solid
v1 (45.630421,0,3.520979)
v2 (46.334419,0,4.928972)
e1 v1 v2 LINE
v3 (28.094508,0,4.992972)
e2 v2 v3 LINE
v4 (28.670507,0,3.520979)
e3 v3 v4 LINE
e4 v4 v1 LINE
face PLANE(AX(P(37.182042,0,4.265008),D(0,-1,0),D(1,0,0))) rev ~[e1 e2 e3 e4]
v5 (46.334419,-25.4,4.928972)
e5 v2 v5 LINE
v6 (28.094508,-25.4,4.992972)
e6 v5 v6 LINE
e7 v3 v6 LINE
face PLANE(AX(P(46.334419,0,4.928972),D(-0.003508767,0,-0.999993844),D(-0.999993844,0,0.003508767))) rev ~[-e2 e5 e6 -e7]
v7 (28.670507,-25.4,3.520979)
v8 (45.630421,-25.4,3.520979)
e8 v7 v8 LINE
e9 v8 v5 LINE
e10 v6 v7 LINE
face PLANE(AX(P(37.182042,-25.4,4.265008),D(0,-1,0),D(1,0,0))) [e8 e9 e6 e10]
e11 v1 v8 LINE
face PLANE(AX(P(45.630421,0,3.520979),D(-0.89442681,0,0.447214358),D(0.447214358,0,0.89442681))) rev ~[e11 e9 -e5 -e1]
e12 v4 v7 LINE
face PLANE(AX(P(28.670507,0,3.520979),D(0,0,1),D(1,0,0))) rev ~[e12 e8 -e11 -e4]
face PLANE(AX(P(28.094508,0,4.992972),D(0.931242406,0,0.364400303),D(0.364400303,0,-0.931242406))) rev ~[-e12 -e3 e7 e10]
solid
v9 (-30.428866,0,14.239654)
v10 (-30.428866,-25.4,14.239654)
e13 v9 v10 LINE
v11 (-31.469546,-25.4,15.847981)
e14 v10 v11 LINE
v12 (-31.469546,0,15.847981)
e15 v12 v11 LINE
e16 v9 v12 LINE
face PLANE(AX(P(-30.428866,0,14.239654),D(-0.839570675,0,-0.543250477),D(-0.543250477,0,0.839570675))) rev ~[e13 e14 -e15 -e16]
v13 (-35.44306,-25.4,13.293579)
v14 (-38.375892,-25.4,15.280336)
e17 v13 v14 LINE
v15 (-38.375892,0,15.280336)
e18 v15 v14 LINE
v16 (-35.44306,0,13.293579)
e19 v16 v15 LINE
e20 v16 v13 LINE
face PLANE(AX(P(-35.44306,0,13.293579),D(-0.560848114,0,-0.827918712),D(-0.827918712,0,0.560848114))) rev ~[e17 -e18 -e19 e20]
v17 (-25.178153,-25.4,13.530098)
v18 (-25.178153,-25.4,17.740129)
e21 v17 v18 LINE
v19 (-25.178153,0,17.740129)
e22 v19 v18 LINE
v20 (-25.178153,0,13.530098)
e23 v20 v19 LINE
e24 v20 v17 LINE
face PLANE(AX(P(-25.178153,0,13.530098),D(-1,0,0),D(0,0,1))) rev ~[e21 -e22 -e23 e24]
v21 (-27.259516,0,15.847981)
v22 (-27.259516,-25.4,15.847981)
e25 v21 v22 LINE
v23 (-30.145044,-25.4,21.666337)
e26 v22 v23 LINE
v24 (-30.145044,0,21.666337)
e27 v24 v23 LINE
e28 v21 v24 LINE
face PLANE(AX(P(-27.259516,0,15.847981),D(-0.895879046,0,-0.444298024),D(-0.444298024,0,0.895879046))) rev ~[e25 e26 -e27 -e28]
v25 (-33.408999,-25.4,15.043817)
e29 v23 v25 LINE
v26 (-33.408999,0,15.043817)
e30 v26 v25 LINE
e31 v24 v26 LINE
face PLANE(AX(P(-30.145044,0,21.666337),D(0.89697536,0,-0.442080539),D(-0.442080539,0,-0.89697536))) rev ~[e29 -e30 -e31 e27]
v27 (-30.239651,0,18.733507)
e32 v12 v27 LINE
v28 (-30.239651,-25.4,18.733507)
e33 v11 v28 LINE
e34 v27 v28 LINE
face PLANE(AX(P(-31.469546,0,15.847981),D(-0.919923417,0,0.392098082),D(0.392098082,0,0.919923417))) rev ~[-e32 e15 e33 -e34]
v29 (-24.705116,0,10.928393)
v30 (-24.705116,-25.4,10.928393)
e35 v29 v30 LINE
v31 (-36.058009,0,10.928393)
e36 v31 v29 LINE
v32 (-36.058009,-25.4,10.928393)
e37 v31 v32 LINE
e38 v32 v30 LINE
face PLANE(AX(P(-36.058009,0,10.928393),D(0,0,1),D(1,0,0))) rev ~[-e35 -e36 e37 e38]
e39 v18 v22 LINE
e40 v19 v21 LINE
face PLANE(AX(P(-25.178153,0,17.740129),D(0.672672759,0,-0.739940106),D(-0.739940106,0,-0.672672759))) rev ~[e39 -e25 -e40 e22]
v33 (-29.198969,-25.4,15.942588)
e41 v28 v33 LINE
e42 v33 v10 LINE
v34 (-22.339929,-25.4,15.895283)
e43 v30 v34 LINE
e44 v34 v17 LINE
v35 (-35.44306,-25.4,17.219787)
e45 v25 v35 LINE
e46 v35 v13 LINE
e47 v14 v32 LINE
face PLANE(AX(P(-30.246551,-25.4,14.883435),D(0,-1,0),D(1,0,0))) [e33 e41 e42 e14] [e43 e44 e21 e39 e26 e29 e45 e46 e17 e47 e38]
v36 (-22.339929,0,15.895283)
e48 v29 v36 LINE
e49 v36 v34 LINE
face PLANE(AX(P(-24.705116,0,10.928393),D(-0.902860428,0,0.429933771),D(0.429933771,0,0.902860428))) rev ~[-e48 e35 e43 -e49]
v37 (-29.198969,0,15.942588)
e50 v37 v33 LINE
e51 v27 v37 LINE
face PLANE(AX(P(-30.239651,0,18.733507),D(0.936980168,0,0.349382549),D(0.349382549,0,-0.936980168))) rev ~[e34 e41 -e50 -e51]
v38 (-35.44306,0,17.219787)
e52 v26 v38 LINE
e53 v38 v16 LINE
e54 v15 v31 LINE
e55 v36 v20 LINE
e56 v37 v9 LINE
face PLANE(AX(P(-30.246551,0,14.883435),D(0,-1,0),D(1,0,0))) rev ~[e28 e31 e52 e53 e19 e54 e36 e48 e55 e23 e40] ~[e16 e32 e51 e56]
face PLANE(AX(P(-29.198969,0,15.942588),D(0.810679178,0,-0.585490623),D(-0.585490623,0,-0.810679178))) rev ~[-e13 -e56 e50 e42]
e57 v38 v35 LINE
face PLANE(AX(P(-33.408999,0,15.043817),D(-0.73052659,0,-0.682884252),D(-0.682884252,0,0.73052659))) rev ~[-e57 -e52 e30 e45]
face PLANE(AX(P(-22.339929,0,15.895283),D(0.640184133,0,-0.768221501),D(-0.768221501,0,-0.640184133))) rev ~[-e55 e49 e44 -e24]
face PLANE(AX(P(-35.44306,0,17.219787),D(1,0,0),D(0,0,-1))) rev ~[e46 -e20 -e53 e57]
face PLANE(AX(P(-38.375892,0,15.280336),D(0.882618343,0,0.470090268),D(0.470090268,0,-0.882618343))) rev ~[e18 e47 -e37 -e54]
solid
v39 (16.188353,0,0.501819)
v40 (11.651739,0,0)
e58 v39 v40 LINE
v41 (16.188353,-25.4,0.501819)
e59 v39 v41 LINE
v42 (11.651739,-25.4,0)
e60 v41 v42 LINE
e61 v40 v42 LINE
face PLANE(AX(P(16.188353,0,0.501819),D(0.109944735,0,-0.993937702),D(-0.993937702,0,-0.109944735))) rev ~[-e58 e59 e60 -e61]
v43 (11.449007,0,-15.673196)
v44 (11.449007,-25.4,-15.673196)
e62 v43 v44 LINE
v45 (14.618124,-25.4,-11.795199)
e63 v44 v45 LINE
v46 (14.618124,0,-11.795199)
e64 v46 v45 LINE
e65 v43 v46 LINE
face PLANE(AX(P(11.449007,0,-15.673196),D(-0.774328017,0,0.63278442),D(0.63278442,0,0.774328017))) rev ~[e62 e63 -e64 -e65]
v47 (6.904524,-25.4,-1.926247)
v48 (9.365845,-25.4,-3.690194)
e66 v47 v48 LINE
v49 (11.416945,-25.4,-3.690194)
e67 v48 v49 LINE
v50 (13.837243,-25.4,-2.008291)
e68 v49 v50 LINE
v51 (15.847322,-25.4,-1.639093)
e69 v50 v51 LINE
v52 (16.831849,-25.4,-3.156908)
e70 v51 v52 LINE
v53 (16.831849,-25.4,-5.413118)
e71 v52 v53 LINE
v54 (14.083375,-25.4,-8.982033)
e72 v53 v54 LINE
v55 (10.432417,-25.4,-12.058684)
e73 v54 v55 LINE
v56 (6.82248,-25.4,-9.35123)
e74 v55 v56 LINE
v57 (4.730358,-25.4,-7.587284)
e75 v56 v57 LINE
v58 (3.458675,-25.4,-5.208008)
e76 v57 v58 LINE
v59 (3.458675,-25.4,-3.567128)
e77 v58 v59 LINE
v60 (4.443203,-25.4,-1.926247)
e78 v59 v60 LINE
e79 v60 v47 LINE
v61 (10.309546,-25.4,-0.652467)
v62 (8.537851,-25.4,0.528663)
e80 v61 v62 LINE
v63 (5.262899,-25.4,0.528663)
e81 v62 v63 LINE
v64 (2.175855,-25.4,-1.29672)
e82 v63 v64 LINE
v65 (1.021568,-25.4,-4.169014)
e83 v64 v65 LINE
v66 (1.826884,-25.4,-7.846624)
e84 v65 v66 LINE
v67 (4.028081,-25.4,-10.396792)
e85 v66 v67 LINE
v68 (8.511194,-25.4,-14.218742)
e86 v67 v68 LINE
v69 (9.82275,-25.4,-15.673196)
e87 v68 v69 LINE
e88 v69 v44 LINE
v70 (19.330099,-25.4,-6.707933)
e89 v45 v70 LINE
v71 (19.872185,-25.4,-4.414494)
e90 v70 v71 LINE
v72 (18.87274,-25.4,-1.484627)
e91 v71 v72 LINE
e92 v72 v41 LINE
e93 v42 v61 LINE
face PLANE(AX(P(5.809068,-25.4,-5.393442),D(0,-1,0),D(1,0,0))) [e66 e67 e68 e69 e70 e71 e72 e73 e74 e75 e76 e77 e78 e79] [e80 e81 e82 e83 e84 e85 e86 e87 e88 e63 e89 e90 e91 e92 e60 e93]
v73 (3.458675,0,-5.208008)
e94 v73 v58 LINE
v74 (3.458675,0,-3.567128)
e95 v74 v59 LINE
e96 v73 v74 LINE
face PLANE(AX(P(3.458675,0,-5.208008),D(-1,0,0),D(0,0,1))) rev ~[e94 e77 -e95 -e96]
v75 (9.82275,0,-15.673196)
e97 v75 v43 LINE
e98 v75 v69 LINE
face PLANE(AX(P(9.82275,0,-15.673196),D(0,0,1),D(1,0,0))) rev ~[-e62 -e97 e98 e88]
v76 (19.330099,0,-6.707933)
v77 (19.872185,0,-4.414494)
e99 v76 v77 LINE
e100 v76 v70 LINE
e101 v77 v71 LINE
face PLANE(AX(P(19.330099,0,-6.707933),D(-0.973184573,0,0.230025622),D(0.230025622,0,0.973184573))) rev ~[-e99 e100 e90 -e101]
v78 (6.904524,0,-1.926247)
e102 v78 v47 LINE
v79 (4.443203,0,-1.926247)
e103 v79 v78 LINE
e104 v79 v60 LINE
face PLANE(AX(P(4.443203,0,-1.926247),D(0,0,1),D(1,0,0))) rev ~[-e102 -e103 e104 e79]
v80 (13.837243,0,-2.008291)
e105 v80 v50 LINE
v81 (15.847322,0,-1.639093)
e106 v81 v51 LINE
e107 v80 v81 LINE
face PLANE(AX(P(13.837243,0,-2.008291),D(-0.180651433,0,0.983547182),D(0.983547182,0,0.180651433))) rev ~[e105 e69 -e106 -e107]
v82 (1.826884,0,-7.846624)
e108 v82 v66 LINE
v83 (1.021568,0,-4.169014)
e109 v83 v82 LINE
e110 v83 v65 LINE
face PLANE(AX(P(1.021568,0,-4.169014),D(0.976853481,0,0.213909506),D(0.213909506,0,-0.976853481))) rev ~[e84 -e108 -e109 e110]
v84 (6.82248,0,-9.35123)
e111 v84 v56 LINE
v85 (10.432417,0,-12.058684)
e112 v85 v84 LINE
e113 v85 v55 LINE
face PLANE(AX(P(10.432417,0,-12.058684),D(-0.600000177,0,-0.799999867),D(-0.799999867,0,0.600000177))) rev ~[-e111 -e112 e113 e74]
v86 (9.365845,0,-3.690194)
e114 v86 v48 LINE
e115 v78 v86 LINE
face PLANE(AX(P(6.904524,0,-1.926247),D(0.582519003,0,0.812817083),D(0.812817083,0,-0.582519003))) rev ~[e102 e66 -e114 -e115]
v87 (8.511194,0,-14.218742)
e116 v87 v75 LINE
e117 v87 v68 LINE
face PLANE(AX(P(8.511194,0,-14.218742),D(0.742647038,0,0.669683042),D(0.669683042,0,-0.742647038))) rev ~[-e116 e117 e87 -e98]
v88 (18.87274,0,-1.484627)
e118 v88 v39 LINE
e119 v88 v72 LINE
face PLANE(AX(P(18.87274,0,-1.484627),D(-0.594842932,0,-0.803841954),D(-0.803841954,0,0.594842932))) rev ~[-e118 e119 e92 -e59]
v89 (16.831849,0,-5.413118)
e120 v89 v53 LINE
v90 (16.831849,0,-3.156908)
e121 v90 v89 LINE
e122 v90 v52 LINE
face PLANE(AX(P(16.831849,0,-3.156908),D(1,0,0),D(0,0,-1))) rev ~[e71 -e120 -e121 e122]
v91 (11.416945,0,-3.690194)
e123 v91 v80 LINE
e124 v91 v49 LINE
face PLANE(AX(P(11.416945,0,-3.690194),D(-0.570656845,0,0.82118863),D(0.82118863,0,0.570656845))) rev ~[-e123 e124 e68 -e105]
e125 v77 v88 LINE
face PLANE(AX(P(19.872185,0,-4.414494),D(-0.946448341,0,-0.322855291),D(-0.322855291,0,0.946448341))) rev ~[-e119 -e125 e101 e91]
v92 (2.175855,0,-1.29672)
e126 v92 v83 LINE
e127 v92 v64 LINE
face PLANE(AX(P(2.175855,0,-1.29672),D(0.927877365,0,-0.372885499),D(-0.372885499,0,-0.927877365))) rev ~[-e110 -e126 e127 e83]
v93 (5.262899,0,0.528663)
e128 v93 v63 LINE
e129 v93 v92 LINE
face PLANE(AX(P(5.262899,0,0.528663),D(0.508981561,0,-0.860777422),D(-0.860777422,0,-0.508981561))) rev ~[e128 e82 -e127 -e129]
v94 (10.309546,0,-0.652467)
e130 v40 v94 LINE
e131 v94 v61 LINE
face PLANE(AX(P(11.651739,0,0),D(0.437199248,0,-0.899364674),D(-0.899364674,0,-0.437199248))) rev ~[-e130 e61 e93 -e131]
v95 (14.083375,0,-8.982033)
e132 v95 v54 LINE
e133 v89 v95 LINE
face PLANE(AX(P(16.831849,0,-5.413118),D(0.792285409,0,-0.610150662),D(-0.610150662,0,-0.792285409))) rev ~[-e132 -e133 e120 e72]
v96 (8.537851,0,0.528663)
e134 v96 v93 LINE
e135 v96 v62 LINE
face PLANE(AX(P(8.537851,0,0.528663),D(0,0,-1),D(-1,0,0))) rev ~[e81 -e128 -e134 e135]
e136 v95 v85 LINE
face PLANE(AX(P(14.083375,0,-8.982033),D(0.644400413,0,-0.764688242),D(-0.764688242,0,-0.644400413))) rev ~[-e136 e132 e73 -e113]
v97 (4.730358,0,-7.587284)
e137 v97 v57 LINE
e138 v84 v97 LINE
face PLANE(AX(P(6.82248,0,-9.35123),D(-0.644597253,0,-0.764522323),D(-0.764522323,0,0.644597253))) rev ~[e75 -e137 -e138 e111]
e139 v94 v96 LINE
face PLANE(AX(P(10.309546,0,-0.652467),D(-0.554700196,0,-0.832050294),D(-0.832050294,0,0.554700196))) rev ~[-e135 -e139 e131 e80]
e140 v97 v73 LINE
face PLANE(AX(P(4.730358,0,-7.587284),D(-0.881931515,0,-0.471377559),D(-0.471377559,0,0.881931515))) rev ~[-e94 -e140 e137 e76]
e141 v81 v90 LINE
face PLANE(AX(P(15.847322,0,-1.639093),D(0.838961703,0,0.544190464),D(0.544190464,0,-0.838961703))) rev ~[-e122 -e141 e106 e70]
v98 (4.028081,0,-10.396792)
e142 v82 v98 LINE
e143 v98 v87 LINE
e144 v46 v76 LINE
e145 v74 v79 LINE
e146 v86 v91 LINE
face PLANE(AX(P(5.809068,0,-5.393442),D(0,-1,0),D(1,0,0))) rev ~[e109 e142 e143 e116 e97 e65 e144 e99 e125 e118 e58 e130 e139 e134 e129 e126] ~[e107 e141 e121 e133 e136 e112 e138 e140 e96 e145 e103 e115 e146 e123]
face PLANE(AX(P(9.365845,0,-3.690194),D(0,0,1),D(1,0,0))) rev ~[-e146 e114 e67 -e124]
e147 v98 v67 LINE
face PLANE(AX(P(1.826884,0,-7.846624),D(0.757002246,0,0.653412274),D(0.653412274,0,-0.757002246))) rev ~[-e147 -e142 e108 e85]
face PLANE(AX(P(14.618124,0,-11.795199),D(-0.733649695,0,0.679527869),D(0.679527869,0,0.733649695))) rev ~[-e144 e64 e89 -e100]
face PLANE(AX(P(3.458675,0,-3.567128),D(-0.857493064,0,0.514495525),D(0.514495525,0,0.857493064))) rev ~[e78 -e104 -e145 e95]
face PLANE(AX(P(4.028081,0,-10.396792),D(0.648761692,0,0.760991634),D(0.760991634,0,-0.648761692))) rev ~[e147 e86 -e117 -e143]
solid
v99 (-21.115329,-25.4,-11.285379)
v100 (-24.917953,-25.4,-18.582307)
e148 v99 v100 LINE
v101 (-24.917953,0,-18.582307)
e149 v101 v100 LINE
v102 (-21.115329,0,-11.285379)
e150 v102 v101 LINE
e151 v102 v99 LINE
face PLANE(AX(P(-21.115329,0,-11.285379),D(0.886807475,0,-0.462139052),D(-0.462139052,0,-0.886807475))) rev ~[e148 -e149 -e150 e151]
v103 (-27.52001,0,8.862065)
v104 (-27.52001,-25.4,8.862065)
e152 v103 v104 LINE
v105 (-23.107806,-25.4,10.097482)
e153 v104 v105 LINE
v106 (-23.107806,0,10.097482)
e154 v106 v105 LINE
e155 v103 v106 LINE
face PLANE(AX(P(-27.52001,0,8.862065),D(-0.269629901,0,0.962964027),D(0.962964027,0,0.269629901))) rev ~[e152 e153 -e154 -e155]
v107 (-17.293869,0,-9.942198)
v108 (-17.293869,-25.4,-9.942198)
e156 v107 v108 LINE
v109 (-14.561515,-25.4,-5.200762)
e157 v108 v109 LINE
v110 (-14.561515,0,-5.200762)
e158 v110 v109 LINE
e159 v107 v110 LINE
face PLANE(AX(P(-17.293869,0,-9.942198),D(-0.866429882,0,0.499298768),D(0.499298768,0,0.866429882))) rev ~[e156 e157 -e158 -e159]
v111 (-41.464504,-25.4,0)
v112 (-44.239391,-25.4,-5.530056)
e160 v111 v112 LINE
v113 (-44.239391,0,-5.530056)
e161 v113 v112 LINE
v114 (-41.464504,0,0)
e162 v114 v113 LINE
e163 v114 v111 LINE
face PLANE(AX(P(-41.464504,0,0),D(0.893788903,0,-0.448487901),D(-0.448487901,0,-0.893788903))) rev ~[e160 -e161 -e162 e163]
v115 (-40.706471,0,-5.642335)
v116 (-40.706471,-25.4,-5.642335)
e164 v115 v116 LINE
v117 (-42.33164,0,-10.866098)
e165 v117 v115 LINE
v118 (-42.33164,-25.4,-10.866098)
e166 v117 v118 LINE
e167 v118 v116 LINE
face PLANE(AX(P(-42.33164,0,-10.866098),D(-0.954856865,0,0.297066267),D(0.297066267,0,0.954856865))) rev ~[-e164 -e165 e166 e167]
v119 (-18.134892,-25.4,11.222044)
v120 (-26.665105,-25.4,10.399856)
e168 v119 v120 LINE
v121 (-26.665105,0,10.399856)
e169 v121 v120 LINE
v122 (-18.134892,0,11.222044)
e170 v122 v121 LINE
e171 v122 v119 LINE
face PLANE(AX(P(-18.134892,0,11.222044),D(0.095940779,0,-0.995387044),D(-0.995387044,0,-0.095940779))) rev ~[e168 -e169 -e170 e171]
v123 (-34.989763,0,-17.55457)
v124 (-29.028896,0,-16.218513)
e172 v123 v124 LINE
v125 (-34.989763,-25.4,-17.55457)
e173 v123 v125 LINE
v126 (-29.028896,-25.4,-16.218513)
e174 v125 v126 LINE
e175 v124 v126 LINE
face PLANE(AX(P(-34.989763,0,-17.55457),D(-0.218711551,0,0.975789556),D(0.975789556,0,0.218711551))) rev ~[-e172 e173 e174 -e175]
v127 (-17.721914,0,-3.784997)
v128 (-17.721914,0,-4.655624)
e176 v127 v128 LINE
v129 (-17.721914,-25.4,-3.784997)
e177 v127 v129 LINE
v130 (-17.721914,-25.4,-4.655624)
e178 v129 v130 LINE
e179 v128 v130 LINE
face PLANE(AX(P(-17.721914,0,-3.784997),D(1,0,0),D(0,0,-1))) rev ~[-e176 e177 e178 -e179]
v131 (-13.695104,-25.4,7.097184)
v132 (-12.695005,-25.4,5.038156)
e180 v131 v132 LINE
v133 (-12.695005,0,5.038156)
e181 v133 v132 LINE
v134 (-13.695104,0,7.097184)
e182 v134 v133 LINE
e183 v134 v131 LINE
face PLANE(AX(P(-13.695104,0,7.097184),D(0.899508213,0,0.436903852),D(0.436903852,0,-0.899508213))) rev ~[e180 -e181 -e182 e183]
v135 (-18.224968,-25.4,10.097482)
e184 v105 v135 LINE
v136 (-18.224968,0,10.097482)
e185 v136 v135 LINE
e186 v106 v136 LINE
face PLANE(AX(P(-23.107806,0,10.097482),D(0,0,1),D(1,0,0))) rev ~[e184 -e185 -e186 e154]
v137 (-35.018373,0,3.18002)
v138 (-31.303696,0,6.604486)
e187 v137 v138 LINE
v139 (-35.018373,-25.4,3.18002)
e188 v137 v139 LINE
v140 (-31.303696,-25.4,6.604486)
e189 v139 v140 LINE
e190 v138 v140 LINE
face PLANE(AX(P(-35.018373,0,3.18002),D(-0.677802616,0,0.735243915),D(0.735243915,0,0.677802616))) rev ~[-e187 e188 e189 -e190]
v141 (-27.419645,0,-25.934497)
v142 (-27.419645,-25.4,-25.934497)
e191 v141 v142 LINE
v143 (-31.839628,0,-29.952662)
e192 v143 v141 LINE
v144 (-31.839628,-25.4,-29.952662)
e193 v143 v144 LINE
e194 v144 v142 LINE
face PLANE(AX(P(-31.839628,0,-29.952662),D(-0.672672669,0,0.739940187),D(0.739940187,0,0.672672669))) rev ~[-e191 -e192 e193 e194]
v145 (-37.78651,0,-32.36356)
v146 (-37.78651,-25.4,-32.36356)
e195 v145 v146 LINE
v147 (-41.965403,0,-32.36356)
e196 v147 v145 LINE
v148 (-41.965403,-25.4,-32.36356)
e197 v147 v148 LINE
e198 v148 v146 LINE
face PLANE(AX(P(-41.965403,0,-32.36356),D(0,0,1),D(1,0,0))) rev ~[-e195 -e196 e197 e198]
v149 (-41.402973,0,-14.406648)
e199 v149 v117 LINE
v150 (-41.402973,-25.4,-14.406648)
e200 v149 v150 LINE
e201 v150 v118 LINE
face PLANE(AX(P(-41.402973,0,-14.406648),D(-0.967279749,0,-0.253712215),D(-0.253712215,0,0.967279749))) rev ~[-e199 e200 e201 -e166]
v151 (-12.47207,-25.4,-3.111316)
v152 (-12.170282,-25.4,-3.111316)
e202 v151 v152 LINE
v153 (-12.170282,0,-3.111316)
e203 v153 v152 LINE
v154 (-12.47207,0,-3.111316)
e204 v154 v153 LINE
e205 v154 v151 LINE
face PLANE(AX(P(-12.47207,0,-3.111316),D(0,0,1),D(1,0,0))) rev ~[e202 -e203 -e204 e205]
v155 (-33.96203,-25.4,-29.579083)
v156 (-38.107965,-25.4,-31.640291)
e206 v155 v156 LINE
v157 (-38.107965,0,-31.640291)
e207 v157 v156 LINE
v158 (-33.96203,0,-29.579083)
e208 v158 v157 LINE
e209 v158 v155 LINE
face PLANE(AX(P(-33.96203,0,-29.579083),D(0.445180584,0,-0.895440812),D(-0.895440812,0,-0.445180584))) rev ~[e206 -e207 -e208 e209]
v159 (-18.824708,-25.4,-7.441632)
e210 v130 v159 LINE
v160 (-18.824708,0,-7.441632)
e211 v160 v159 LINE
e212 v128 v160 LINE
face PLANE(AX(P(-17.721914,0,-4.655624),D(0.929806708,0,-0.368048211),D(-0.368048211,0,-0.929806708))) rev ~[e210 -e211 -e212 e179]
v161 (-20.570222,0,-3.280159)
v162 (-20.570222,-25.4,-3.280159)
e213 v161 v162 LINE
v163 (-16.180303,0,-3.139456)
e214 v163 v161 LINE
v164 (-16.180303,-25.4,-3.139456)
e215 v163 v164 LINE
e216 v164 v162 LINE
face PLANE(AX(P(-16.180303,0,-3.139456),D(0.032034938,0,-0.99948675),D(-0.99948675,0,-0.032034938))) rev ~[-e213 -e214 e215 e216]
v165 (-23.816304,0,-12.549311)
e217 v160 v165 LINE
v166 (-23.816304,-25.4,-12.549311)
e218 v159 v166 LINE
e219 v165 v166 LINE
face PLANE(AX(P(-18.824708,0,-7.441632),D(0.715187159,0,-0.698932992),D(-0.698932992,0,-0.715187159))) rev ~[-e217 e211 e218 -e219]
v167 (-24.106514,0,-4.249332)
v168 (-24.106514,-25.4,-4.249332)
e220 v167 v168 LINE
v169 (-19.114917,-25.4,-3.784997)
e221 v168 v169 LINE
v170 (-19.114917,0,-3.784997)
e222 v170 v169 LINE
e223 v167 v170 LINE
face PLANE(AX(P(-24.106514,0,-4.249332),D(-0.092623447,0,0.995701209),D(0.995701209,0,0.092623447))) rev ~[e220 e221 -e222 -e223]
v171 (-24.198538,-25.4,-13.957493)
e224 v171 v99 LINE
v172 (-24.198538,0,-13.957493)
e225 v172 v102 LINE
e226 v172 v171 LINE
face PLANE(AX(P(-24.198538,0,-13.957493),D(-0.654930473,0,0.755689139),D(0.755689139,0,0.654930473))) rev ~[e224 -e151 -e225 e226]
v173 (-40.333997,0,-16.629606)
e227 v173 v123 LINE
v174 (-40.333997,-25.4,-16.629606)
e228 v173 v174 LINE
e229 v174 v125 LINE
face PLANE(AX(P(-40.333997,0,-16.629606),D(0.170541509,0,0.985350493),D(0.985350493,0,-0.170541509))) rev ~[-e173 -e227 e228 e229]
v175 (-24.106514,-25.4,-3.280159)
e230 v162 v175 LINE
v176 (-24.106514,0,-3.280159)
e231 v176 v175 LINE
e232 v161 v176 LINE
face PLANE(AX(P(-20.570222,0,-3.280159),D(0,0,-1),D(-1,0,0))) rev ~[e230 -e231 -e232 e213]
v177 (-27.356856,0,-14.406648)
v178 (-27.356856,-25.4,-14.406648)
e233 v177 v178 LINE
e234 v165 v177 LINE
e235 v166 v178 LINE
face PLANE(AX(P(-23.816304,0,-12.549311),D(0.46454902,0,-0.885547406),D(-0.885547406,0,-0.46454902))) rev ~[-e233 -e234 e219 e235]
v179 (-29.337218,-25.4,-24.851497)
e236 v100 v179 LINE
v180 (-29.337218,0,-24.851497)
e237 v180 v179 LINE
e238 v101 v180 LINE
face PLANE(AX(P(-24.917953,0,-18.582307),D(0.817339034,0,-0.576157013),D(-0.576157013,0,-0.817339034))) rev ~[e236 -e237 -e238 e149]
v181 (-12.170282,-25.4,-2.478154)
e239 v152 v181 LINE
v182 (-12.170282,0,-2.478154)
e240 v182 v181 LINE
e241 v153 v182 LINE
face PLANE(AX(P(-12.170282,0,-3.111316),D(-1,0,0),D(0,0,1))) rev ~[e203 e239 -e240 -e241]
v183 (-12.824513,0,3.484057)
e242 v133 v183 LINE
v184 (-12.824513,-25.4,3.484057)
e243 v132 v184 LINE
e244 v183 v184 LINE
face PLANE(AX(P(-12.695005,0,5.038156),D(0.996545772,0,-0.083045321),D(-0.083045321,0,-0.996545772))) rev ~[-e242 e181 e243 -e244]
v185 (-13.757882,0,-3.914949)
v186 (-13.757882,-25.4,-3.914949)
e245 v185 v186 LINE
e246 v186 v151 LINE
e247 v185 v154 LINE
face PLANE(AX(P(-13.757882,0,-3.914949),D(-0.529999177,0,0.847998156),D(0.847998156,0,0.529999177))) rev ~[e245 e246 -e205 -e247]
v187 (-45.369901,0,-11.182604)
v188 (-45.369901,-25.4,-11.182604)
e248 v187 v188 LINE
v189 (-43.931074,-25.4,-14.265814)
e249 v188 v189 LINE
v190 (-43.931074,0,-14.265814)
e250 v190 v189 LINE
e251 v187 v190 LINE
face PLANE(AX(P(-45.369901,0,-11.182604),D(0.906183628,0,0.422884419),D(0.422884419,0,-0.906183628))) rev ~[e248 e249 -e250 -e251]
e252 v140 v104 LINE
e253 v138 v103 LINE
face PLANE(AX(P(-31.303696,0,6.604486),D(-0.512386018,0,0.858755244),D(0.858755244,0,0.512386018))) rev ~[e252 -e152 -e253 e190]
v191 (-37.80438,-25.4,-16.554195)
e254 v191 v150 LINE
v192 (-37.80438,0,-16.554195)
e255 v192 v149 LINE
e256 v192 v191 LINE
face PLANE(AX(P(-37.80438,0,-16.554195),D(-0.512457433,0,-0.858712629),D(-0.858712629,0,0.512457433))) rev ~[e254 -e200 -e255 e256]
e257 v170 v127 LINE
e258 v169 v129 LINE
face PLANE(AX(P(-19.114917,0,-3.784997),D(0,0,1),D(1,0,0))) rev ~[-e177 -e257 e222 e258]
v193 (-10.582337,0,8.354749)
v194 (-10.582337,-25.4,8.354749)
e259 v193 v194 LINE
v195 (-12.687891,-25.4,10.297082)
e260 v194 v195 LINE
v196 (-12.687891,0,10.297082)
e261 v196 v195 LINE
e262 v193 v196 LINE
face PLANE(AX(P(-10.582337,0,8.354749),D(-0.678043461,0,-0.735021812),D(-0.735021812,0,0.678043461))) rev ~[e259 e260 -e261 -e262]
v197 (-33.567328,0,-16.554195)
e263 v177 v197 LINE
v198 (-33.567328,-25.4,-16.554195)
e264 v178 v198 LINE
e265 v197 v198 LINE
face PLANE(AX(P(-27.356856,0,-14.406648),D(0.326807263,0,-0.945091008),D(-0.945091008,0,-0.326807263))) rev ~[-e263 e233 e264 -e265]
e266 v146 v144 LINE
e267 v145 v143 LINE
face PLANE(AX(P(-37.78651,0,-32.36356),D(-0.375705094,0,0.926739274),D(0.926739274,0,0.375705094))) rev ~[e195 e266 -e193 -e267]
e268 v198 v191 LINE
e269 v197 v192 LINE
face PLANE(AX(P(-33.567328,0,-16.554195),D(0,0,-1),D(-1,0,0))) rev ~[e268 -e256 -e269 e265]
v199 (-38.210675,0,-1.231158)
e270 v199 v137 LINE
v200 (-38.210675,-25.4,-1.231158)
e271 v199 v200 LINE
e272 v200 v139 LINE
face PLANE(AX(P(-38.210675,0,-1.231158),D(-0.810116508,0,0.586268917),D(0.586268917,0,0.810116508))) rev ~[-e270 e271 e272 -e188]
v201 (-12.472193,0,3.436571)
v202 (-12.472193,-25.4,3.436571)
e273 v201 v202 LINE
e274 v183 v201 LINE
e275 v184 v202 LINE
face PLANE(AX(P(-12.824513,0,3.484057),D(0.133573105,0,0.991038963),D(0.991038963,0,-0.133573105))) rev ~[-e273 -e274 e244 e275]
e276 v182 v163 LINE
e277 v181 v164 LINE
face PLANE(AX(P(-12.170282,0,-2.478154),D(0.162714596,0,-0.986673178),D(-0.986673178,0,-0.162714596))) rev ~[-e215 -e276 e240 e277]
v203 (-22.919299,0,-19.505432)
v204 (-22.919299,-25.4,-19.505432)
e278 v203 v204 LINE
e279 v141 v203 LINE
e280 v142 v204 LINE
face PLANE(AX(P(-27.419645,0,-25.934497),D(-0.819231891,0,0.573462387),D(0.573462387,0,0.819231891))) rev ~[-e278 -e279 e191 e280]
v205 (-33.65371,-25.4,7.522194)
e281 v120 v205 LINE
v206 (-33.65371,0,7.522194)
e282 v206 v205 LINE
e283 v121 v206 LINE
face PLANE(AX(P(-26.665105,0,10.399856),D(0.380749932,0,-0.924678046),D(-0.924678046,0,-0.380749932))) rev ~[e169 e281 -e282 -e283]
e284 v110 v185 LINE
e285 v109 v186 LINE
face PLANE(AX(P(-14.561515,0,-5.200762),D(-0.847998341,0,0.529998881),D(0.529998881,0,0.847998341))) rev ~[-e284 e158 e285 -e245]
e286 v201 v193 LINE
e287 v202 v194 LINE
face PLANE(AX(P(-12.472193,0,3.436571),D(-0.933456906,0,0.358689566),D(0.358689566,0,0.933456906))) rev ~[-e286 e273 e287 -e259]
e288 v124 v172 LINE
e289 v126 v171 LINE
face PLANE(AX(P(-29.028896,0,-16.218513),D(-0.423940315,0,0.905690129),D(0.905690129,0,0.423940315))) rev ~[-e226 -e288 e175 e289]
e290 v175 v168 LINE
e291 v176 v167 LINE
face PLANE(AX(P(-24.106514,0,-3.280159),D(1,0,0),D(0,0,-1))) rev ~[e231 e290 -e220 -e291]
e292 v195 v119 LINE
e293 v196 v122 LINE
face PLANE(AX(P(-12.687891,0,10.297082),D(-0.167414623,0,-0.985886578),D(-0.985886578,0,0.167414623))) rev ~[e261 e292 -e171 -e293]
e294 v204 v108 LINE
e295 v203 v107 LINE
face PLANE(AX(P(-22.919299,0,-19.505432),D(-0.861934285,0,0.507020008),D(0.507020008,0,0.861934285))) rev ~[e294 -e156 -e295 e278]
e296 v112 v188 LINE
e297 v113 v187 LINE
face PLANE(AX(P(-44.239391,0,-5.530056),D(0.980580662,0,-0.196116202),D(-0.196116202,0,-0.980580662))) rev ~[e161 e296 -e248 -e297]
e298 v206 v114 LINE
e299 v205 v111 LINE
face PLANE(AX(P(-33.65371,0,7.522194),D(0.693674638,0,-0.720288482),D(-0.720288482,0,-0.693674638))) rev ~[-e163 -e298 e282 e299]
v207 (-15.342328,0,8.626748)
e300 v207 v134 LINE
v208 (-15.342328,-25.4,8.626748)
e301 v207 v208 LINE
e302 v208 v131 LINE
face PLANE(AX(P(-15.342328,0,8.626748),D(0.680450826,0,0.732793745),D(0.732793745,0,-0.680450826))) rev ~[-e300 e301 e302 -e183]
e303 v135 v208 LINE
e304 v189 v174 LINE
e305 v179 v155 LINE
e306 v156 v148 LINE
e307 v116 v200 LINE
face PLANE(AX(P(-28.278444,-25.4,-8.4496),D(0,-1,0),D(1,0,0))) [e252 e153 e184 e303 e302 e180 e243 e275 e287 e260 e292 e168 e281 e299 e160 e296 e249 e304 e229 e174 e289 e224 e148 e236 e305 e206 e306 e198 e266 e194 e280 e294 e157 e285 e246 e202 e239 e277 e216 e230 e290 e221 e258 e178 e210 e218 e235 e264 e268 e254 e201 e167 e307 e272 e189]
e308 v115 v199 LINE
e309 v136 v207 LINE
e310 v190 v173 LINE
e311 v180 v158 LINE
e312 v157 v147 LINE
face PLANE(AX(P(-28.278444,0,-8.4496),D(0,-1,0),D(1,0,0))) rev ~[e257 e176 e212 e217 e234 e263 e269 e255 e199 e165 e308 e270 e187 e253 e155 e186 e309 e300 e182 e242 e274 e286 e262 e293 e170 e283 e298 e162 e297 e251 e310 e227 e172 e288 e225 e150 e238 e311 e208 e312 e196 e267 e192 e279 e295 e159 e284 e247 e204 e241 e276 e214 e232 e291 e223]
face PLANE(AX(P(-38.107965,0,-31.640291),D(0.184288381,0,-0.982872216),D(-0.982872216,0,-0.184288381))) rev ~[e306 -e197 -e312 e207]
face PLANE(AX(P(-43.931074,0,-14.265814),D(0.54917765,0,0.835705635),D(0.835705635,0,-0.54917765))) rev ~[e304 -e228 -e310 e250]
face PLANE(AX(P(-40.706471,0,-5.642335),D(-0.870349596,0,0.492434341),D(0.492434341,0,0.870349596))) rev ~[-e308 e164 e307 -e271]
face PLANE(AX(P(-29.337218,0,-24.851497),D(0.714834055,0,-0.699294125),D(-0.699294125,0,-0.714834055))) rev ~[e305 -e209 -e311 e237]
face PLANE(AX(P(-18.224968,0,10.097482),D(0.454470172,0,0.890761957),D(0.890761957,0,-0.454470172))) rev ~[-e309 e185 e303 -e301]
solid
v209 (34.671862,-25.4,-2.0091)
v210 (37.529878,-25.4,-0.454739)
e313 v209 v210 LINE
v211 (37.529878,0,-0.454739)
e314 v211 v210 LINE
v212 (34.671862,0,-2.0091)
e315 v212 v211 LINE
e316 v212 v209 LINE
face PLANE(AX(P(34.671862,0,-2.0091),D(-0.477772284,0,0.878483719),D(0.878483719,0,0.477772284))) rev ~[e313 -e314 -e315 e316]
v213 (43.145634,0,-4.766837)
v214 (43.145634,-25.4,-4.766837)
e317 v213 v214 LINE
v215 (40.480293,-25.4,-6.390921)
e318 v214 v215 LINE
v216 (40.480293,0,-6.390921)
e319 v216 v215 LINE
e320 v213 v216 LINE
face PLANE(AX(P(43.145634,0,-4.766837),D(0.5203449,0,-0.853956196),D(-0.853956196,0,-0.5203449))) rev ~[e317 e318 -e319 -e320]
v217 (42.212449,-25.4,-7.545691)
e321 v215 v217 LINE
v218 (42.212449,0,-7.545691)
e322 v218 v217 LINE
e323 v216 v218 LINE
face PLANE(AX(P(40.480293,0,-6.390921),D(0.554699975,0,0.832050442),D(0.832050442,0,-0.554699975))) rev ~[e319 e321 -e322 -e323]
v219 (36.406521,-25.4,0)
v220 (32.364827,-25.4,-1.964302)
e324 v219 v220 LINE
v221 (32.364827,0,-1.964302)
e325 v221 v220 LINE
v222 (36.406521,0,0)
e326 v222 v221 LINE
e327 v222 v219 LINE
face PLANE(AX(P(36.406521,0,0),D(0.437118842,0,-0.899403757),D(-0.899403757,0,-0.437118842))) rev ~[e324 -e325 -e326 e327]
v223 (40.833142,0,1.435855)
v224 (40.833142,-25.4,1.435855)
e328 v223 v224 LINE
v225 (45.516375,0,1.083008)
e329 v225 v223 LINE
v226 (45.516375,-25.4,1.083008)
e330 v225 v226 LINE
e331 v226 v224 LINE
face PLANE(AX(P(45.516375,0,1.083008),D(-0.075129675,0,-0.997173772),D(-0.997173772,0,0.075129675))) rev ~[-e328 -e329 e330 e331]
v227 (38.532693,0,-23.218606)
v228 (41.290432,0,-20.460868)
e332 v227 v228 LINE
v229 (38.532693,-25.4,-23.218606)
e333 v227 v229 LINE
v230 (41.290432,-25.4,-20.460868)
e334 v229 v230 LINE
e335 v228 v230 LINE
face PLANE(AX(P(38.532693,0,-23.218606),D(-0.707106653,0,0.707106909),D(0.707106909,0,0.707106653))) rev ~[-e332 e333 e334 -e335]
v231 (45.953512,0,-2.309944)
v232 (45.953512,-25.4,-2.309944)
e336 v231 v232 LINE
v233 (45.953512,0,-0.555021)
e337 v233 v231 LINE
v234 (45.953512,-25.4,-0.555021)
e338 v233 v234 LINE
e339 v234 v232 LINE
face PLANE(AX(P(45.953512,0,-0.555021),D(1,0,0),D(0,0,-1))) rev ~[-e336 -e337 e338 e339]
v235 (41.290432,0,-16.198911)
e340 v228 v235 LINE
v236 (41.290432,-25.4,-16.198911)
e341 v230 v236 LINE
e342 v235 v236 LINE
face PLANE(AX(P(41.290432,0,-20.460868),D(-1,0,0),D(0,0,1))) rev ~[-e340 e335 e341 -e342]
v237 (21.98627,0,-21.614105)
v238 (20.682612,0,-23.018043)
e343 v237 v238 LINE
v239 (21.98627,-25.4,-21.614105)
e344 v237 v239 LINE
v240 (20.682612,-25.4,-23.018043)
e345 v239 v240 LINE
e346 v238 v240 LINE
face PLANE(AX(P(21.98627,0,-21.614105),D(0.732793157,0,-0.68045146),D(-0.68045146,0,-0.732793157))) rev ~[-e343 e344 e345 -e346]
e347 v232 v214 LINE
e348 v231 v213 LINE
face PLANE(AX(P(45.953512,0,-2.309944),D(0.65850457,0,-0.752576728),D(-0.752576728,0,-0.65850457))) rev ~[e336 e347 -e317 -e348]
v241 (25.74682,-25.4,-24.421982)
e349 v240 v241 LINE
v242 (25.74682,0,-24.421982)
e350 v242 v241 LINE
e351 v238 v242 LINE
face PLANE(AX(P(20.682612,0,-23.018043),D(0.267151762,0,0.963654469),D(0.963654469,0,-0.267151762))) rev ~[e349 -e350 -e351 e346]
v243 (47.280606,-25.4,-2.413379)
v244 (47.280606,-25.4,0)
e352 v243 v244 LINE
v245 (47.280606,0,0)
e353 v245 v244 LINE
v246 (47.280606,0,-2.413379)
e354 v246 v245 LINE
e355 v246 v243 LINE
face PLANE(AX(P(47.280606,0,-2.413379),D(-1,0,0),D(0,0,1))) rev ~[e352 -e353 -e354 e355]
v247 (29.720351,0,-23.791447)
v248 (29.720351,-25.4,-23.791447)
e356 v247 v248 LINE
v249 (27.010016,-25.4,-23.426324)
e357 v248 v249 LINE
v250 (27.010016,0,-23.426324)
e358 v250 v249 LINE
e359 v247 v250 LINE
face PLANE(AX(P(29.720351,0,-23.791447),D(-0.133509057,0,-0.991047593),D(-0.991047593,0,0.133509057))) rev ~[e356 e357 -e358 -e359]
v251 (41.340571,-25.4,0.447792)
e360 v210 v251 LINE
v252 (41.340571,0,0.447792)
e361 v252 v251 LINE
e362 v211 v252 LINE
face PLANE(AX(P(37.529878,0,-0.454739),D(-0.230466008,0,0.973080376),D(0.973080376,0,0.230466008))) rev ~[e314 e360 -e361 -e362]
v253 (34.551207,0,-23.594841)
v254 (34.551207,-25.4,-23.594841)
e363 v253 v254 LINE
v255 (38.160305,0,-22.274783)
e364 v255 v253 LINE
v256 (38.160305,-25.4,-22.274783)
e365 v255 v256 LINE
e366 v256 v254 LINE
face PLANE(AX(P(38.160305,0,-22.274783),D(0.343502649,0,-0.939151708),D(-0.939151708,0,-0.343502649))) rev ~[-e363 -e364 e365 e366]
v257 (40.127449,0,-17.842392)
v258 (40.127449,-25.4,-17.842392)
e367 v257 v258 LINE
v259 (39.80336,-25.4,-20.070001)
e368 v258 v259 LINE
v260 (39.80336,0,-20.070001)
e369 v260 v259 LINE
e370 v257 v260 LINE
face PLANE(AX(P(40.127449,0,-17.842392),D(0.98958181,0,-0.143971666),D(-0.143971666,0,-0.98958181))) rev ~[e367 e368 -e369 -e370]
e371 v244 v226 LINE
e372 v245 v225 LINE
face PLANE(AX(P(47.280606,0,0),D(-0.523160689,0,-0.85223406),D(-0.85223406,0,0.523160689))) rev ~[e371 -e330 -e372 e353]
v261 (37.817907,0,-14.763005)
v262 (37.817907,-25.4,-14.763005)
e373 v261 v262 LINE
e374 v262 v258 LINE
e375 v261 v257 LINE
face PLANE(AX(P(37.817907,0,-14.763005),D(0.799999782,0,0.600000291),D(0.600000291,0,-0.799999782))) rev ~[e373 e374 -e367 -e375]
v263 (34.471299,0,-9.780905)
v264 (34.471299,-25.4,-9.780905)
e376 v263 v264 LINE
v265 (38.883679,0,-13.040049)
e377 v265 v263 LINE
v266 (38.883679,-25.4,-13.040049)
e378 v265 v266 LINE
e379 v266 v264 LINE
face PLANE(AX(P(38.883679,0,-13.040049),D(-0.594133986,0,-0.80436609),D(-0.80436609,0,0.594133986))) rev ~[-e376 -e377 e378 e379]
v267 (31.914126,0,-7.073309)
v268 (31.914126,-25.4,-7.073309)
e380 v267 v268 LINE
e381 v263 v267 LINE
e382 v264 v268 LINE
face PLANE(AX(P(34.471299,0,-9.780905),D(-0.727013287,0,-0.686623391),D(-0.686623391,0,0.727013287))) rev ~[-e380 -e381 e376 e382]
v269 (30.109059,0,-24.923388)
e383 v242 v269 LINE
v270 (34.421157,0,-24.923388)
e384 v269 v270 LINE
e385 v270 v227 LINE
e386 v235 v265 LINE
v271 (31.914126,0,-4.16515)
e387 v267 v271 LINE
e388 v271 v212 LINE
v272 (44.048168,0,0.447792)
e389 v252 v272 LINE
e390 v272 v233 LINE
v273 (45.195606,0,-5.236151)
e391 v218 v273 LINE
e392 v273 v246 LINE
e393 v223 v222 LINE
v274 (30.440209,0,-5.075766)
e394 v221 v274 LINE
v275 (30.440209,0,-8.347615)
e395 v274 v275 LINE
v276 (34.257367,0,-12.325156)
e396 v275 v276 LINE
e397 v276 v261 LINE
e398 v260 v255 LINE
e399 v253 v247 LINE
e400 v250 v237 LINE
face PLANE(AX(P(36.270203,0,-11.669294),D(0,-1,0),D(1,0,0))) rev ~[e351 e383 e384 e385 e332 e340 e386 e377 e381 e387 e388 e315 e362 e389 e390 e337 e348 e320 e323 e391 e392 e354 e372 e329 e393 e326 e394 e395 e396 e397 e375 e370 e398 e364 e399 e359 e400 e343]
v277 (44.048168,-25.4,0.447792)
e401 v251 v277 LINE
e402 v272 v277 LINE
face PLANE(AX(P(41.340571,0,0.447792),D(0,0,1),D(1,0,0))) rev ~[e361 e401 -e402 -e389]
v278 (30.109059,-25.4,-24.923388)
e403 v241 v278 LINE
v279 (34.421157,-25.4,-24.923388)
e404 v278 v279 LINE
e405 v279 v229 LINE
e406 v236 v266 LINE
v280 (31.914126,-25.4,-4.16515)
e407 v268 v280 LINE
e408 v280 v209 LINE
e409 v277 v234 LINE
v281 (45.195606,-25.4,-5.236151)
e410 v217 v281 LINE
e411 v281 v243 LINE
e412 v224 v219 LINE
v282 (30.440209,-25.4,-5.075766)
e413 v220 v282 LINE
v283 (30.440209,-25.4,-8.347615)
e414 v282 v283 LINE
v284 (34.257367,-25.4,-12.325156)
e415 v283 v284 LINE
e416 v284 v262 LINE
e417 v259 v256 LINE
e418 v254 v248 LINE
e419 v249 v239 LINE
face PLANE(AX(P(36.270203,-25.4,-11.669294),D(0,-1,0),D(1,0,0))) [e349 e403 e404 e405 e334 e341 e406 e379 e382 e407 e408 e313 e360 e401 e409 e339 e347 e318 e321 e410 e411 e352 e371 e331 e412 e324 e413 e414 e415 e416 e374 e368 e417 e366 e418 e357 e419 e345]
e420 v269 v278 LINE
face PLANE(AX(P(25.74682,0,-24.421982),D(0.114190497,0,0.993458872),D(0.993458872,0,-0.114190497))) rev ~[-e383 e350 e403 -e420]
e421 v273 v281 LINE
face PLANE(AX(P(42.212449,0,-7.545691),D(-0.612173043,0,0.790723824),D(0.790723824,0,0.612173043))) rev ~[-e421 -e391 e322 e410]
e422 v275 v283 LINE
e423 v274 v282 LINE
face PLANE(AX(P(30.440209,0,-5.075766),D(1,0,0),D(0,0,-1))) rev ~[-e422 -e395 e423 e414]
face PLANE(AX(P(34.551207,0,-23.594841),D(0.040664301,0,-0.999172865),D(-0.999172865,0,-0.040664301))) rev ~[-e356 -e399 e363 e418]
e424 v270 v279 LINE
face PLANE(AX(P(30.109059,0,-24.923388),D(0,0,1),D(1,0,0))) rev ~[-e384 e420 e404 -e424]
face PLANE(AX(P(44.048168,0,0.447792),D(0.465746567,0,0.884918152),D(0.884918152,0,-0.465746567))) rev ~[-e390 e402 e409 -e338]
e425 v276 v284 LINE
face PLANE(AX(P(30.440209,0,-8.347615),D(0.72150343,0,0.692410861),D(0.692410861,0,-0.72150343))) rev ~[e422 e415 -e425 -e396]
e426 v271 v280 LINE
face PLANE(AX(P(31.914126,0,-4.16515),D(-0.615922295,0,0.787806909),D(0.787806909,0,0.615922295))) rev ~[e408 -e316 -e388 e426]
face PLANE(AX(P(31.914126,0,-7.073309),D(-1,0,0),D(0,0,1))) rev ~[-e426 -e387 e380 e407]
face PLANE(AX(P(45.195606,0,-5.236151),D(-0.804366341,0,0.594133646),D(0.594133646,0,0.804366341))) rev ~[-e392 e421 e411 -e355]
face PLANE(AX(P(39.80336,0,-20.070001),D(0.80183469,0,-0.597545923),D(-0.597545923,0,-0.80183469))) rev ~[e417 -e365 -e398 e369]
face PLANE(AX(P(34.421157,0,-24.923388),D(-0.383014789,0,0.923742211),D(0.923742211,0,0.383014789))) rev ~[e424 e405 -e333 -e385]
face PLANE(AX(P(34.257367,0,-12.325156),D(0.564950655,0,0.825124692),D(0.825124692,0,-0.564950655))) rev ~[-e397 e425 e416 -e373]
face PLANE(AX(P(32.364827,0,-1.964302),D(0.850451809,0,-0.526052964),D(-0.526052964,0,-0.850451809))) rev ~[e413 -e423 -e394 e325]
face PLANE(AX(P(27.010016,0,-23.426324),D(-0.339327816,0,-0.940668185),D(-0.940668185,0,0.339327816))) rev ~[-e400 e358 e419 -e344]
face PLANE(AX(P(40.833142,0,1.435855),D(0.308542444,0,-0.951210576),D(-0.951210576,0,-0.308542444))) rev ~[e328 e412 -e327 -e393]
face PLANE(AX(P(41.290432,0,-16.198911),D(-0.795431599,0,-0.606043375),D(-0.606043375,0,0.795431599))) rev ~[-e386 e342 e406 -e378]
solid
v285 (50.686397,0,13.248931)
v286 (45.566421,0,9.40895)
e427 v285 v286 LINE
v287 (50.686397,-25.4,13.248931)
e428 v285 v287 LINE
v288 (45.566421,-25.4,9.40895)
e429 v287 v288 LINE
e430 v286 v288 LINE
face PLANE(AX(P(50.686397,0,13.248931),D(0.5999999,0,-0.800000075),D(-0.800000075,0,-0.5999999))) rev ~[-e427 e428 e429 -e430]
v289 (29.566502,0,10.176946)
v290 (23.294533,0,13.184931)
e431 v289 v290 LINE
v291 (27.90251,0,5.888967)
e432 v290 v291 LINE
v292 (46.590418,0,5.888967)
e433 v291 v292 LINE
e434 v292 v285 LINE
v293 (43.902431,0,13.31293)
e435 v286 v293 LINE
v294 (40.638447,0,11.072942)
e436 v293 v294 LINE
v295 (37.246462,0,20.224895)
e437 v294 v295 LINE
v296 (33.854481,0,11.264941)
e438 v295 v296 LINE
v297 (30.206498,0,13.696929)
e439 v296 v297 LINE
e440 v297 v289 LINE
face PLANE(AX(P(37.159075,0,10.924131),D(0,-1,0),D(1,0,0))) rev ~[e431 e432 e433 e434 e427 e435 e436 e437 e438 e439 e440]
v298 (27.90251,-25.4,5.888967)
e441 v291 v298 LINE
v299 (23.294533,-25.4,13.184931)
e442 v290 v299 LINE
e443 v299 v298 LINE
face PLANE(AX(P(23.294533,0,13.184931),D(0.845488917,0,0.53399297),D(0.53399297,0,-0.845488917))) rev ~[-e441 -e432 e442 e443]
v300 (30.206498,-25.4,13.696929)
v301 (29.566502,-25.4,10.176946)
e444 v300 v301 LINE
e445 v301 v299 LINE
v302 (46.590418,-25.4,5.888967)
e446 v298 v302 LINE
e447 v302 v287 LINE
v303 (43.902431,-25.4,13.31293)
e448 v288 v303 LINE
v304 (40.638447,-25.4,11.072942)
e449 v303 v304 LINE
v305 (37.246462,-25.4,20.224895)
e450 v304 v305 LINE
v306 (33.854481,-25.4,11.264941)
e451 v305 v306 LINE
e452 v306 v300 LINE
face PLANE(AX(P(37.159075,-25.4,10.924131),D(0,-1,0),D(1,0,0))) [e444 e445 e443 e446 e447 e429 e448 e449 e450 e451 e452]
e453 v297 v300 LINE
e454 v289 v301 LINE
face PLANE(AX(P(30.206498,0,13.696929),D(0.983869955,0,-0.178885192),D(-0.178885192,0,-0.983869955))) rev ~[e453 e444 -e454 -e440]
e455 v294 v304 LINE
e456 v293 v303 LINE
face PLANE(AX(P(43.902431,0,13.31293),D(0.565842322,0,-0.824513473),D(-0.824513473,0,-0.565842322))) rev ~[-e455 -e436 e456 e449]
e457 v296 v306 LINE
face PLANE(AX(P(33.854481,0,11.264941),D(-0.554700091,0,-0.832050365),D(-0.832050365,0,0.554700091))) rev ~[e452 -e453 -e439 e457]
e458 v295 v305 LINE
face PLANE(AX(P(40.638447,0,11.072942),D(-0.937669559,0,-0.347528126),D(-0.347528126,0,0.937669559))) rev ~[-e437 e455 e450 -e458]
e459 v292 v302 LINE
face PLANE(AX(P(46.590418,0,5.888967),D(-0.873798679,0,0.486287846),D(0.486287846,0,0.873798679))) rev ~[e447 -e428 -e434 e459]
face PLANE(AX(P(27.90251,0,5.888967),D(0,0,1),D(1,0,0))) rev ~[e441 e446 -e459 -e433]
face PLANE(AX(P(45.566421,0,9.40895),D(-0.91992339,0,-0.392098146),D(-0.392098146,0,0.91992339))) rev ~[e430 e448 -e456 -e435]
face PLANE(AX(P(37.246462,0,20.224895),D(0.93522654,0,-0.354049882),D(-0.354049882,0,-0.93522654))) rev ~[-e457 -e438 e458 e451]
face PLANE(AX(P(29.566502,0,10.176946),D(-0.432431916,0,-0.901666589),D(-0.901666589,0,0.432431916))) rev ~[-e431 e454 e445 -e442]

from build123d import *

# Parameters (mm, degrees)
F1_DEPTH = 25.4
F3_DEPTH = 25.4
F5_DEPTH = 25.4
F7_DEPTH = 25.4
F9_DEPTH = 25.4


with BuildPart() as f1:
    # F0 (on Front) → F1 (new body)
    with BuildSketch(Plane.XZ):
        Polygon((-12.824513, 3.484057), (-12.472193, 3.436571), (-10.582337, 8.354749), (-12.687891, 10.297082), (-18.134892, 11.222044), (-26.665105, 10.399856), (-33.65371, 7.522194), (-41.464504, 0), (-44.239391, -5.530056), (-45.369901, -11.182604), (-43.931074, -14.265814), (-40.333997, -16.629606), (-34.989763, -17.55457), (-29.028896, -16.218513), (-24.198538, -13.957493), (-21.115329, -11.285379), (-24.917953, -18.582307), (-29.337218, -24.851497), (-33.96203, -29.579083), (-38.107965, -31.640291), (-41.965403, -32.36356), (-37.78651, -32.36356), (-31.839628, -29.952662), (-27.419645, -25.934497), (-22.919299, -19.505432), (-17.293869, -9.942198), (-14.561515, -5.200762), (-13.757882, -3.914949), (-12.47207, -3.111316), (-12.170282, -3.111316), (-12.170282, -2.478154), (-16.180303, -3.139456), (-20.570222, -3.280159), (-24.106514, -3.280159), (-24.106514, -4.249332), (-19.114917, -3.784997), (-17.721914, -3.784997), (-17.721914, -4.655624), (-18.824708, -7.441632), (-23.816304, -12.549311), (-27.356856, -14.406648), (-33.567328, -16.554195), (-37.80438, -16.554195), (-41.402973, -14.406648), (-42.33164, -10.866098), (-40.706471, -5.642335), (-38.210675, -1.231158), (-35.018373, 3.18002), (-31.303696, 6.604486), (-27.52001, 8.862065), (-23.107806, 10.097482), (-18.224968, 10.097482), (-15.342328, 8.626748), (-13.695104, 7.097184), (-12.695005, 5.038156), align=None)
    extrude(amount=F1_DEPTH)


with BuildPart() as f3:
    # F2 (on Front) → F3 (new body)
    with BuildSketch(Plane.XZ):
        Polygon((43.145634, -4.766837), (40.480293, -6.390921), (42.212449, -7.545691), (45.195606, -5.236151), (47.280606, -2.413379), (47.280606, 0), (45.516375, 1.083008), (40.833142, 1.435855), (36.406521, 0), (32.364827, -1.964302), (30.440209, -5.075766), (30.440209, -8.347615), (34.257367, -12.325156), (37.817907, -14.763005), (40.127449, -17.842392), (39.80336, -20.070001), (38.160305, -22.274783), (34.551207, -23.594841), (29.720351, -23.791447), (27.010016, -23.426324), (21.98627, -21.614105), (20.682612, -23.018043), (25.74682, -24.421982), (30.109059, -24.923388), (34.421157, -24.923388), (38.532693, -23.218606), (41.290432, -20.460868), (41.290432, -16.198911), (38.883679, -13.040049), (34.471299, -9.780905), (31.914126, -7.073309), (31.914126, -4.16515), (34.671862, -2.0091), (37.529878, -0.454739), (41.340571, 0.447792), (44.048168, 0.447792), (45.953512, -0.555021), (45.953512, -2.309944), align=None)
    extrude(amount=F3_DEPTH)


with BuildPart() as f5:
    # F4 (on Front) → F5 (new body)
    with BuildSketch(Plane.XZ):
        Polygon((-35.44306, 13.293579), (-38.375892, 15.280336), (-36.058009, 10.928393), (-24.705116, 10.928393), (-22.339929, 15.895283), (-25.178153, 13.530098), (-25.178153, 17.740129), (-27.259516, 15.847981), (-30.145044, 21.666337), (-33.408999, 15.043817), (-35.44306, 17.219787), align=None)
        Polygon((-30.428866, 14.239654), (-31.469546, 15.847981), (-30.239651, 18.733507), (-29.198969, 15.942588), align=None, mode=Mode.SUBTRACT)
    extrude(amount=F5_DEPTH)


with BuildPart() as f7:
    # F6 (on Front) → F7 (new body)
    with BuildSketch(Plane.XZ):
        Polygon((29.566502, 10.176946), (23.294533, 13.184931), (27.90251, 5.888967), (46.590418, 5.888967), (50.686397, 13.248931), (45.566421, 9.40895), (43.902431, 13.31293), (40.638447, 11.072942), (37.246462, 20.224895), (33.854481, 11.264941), (30.206498, 13.696929), align=None)
        Polygon((46.334419, 4.928972), (28.094508, 4.992972), (28.670507, 3.520979), (45.630421, 3.520979), align=None)
    extrude(amount=F7_DEPTH)


with BuildPart() as f9:
    # F8 (on Front) → F9 (new body)
    with BuildSketch(Plane.XZ):
        Polygon((5.262899, 0.528663), (2.175855, -1.29672), (1.817795, -3.40304), (1.817795, -5.04392), (3.048455, -7.300131), (7.2327, -11.443353), (9.529932, -13.494453), (10.432417, -12.058684), (6.82248, -9.35123), (4.730358, -7.587284), (3.458675, -5.208008), (3.212543, -2.910776), (3.95094, -1.557049), (5.961018, -0.695587), (9.160735, -1.557049), (10.309546, -0.652467), (8.537851, 0.528663), align=None)
        Polygon((11.047747, -13.371387), (9.82275, -15.673196), (11.449007, -15.673196), (14.618124, -11.795199), (19.330099, -6.707933), (19.872185, -4.414494), (18.87274, -1.484627), (16.462652, -0.367411), (13.632133, -0.367411), (11.068932, -1.313793), (9.365845, -3.690194), (11.416945, -3.690194), (13.837243, -2.008291), (15.847322, -1.639093), (17.65229, -2.541578), (18.226597, -4.920854), (17.365135, -7.136043), (14.903815, -9.638385), align=None)
        Polygon((8.511194, -14.218742), (9.82275, -15.673196), (11.047747, -13.371387), (14.903815, -9.638385), (17.365135, -7.136043), (18.226597, -4.920854), (17.65229, -2.541578), (15.847322, -1.639093), (16.831849, -3.156908), (16.831849, -5.413118), (14.083375, -8.982033), (10.432417, -12.058684), (9.529932, -13.494453), (7.2327, -11.443353), (3.048455, -7.300131), (1.817795, -5.04392), (1.817795, -3.40304), (2.175855, -1.29672), (1.021568, -4.169014), (1.826884, -7.846624), (4.028081, -10.396792), align=None)
        Polygon((16.462652, -0.367411), (18.87274, -1.484627), (16.188353, 0.501819), (11.651739, 0), (10.309546, -0.652467), (9.160735, -1.557049), (5.961018, -0.695587), (3.95094, -1.557049), (3.212543, -2.910776), (3.458675, -5.208008), (3.458675, -3.567128), (4.443203, -1.926247), (6.904524, -1.926247), (9.365845, -3.690194), (11.068932, -1.313793), (13.632133, -0.367411), align=None)
    extrude(amount=F9_DEPTH)


solid = Compound([f1.part, f3.part, f5.part, f7.part, f9.part])
